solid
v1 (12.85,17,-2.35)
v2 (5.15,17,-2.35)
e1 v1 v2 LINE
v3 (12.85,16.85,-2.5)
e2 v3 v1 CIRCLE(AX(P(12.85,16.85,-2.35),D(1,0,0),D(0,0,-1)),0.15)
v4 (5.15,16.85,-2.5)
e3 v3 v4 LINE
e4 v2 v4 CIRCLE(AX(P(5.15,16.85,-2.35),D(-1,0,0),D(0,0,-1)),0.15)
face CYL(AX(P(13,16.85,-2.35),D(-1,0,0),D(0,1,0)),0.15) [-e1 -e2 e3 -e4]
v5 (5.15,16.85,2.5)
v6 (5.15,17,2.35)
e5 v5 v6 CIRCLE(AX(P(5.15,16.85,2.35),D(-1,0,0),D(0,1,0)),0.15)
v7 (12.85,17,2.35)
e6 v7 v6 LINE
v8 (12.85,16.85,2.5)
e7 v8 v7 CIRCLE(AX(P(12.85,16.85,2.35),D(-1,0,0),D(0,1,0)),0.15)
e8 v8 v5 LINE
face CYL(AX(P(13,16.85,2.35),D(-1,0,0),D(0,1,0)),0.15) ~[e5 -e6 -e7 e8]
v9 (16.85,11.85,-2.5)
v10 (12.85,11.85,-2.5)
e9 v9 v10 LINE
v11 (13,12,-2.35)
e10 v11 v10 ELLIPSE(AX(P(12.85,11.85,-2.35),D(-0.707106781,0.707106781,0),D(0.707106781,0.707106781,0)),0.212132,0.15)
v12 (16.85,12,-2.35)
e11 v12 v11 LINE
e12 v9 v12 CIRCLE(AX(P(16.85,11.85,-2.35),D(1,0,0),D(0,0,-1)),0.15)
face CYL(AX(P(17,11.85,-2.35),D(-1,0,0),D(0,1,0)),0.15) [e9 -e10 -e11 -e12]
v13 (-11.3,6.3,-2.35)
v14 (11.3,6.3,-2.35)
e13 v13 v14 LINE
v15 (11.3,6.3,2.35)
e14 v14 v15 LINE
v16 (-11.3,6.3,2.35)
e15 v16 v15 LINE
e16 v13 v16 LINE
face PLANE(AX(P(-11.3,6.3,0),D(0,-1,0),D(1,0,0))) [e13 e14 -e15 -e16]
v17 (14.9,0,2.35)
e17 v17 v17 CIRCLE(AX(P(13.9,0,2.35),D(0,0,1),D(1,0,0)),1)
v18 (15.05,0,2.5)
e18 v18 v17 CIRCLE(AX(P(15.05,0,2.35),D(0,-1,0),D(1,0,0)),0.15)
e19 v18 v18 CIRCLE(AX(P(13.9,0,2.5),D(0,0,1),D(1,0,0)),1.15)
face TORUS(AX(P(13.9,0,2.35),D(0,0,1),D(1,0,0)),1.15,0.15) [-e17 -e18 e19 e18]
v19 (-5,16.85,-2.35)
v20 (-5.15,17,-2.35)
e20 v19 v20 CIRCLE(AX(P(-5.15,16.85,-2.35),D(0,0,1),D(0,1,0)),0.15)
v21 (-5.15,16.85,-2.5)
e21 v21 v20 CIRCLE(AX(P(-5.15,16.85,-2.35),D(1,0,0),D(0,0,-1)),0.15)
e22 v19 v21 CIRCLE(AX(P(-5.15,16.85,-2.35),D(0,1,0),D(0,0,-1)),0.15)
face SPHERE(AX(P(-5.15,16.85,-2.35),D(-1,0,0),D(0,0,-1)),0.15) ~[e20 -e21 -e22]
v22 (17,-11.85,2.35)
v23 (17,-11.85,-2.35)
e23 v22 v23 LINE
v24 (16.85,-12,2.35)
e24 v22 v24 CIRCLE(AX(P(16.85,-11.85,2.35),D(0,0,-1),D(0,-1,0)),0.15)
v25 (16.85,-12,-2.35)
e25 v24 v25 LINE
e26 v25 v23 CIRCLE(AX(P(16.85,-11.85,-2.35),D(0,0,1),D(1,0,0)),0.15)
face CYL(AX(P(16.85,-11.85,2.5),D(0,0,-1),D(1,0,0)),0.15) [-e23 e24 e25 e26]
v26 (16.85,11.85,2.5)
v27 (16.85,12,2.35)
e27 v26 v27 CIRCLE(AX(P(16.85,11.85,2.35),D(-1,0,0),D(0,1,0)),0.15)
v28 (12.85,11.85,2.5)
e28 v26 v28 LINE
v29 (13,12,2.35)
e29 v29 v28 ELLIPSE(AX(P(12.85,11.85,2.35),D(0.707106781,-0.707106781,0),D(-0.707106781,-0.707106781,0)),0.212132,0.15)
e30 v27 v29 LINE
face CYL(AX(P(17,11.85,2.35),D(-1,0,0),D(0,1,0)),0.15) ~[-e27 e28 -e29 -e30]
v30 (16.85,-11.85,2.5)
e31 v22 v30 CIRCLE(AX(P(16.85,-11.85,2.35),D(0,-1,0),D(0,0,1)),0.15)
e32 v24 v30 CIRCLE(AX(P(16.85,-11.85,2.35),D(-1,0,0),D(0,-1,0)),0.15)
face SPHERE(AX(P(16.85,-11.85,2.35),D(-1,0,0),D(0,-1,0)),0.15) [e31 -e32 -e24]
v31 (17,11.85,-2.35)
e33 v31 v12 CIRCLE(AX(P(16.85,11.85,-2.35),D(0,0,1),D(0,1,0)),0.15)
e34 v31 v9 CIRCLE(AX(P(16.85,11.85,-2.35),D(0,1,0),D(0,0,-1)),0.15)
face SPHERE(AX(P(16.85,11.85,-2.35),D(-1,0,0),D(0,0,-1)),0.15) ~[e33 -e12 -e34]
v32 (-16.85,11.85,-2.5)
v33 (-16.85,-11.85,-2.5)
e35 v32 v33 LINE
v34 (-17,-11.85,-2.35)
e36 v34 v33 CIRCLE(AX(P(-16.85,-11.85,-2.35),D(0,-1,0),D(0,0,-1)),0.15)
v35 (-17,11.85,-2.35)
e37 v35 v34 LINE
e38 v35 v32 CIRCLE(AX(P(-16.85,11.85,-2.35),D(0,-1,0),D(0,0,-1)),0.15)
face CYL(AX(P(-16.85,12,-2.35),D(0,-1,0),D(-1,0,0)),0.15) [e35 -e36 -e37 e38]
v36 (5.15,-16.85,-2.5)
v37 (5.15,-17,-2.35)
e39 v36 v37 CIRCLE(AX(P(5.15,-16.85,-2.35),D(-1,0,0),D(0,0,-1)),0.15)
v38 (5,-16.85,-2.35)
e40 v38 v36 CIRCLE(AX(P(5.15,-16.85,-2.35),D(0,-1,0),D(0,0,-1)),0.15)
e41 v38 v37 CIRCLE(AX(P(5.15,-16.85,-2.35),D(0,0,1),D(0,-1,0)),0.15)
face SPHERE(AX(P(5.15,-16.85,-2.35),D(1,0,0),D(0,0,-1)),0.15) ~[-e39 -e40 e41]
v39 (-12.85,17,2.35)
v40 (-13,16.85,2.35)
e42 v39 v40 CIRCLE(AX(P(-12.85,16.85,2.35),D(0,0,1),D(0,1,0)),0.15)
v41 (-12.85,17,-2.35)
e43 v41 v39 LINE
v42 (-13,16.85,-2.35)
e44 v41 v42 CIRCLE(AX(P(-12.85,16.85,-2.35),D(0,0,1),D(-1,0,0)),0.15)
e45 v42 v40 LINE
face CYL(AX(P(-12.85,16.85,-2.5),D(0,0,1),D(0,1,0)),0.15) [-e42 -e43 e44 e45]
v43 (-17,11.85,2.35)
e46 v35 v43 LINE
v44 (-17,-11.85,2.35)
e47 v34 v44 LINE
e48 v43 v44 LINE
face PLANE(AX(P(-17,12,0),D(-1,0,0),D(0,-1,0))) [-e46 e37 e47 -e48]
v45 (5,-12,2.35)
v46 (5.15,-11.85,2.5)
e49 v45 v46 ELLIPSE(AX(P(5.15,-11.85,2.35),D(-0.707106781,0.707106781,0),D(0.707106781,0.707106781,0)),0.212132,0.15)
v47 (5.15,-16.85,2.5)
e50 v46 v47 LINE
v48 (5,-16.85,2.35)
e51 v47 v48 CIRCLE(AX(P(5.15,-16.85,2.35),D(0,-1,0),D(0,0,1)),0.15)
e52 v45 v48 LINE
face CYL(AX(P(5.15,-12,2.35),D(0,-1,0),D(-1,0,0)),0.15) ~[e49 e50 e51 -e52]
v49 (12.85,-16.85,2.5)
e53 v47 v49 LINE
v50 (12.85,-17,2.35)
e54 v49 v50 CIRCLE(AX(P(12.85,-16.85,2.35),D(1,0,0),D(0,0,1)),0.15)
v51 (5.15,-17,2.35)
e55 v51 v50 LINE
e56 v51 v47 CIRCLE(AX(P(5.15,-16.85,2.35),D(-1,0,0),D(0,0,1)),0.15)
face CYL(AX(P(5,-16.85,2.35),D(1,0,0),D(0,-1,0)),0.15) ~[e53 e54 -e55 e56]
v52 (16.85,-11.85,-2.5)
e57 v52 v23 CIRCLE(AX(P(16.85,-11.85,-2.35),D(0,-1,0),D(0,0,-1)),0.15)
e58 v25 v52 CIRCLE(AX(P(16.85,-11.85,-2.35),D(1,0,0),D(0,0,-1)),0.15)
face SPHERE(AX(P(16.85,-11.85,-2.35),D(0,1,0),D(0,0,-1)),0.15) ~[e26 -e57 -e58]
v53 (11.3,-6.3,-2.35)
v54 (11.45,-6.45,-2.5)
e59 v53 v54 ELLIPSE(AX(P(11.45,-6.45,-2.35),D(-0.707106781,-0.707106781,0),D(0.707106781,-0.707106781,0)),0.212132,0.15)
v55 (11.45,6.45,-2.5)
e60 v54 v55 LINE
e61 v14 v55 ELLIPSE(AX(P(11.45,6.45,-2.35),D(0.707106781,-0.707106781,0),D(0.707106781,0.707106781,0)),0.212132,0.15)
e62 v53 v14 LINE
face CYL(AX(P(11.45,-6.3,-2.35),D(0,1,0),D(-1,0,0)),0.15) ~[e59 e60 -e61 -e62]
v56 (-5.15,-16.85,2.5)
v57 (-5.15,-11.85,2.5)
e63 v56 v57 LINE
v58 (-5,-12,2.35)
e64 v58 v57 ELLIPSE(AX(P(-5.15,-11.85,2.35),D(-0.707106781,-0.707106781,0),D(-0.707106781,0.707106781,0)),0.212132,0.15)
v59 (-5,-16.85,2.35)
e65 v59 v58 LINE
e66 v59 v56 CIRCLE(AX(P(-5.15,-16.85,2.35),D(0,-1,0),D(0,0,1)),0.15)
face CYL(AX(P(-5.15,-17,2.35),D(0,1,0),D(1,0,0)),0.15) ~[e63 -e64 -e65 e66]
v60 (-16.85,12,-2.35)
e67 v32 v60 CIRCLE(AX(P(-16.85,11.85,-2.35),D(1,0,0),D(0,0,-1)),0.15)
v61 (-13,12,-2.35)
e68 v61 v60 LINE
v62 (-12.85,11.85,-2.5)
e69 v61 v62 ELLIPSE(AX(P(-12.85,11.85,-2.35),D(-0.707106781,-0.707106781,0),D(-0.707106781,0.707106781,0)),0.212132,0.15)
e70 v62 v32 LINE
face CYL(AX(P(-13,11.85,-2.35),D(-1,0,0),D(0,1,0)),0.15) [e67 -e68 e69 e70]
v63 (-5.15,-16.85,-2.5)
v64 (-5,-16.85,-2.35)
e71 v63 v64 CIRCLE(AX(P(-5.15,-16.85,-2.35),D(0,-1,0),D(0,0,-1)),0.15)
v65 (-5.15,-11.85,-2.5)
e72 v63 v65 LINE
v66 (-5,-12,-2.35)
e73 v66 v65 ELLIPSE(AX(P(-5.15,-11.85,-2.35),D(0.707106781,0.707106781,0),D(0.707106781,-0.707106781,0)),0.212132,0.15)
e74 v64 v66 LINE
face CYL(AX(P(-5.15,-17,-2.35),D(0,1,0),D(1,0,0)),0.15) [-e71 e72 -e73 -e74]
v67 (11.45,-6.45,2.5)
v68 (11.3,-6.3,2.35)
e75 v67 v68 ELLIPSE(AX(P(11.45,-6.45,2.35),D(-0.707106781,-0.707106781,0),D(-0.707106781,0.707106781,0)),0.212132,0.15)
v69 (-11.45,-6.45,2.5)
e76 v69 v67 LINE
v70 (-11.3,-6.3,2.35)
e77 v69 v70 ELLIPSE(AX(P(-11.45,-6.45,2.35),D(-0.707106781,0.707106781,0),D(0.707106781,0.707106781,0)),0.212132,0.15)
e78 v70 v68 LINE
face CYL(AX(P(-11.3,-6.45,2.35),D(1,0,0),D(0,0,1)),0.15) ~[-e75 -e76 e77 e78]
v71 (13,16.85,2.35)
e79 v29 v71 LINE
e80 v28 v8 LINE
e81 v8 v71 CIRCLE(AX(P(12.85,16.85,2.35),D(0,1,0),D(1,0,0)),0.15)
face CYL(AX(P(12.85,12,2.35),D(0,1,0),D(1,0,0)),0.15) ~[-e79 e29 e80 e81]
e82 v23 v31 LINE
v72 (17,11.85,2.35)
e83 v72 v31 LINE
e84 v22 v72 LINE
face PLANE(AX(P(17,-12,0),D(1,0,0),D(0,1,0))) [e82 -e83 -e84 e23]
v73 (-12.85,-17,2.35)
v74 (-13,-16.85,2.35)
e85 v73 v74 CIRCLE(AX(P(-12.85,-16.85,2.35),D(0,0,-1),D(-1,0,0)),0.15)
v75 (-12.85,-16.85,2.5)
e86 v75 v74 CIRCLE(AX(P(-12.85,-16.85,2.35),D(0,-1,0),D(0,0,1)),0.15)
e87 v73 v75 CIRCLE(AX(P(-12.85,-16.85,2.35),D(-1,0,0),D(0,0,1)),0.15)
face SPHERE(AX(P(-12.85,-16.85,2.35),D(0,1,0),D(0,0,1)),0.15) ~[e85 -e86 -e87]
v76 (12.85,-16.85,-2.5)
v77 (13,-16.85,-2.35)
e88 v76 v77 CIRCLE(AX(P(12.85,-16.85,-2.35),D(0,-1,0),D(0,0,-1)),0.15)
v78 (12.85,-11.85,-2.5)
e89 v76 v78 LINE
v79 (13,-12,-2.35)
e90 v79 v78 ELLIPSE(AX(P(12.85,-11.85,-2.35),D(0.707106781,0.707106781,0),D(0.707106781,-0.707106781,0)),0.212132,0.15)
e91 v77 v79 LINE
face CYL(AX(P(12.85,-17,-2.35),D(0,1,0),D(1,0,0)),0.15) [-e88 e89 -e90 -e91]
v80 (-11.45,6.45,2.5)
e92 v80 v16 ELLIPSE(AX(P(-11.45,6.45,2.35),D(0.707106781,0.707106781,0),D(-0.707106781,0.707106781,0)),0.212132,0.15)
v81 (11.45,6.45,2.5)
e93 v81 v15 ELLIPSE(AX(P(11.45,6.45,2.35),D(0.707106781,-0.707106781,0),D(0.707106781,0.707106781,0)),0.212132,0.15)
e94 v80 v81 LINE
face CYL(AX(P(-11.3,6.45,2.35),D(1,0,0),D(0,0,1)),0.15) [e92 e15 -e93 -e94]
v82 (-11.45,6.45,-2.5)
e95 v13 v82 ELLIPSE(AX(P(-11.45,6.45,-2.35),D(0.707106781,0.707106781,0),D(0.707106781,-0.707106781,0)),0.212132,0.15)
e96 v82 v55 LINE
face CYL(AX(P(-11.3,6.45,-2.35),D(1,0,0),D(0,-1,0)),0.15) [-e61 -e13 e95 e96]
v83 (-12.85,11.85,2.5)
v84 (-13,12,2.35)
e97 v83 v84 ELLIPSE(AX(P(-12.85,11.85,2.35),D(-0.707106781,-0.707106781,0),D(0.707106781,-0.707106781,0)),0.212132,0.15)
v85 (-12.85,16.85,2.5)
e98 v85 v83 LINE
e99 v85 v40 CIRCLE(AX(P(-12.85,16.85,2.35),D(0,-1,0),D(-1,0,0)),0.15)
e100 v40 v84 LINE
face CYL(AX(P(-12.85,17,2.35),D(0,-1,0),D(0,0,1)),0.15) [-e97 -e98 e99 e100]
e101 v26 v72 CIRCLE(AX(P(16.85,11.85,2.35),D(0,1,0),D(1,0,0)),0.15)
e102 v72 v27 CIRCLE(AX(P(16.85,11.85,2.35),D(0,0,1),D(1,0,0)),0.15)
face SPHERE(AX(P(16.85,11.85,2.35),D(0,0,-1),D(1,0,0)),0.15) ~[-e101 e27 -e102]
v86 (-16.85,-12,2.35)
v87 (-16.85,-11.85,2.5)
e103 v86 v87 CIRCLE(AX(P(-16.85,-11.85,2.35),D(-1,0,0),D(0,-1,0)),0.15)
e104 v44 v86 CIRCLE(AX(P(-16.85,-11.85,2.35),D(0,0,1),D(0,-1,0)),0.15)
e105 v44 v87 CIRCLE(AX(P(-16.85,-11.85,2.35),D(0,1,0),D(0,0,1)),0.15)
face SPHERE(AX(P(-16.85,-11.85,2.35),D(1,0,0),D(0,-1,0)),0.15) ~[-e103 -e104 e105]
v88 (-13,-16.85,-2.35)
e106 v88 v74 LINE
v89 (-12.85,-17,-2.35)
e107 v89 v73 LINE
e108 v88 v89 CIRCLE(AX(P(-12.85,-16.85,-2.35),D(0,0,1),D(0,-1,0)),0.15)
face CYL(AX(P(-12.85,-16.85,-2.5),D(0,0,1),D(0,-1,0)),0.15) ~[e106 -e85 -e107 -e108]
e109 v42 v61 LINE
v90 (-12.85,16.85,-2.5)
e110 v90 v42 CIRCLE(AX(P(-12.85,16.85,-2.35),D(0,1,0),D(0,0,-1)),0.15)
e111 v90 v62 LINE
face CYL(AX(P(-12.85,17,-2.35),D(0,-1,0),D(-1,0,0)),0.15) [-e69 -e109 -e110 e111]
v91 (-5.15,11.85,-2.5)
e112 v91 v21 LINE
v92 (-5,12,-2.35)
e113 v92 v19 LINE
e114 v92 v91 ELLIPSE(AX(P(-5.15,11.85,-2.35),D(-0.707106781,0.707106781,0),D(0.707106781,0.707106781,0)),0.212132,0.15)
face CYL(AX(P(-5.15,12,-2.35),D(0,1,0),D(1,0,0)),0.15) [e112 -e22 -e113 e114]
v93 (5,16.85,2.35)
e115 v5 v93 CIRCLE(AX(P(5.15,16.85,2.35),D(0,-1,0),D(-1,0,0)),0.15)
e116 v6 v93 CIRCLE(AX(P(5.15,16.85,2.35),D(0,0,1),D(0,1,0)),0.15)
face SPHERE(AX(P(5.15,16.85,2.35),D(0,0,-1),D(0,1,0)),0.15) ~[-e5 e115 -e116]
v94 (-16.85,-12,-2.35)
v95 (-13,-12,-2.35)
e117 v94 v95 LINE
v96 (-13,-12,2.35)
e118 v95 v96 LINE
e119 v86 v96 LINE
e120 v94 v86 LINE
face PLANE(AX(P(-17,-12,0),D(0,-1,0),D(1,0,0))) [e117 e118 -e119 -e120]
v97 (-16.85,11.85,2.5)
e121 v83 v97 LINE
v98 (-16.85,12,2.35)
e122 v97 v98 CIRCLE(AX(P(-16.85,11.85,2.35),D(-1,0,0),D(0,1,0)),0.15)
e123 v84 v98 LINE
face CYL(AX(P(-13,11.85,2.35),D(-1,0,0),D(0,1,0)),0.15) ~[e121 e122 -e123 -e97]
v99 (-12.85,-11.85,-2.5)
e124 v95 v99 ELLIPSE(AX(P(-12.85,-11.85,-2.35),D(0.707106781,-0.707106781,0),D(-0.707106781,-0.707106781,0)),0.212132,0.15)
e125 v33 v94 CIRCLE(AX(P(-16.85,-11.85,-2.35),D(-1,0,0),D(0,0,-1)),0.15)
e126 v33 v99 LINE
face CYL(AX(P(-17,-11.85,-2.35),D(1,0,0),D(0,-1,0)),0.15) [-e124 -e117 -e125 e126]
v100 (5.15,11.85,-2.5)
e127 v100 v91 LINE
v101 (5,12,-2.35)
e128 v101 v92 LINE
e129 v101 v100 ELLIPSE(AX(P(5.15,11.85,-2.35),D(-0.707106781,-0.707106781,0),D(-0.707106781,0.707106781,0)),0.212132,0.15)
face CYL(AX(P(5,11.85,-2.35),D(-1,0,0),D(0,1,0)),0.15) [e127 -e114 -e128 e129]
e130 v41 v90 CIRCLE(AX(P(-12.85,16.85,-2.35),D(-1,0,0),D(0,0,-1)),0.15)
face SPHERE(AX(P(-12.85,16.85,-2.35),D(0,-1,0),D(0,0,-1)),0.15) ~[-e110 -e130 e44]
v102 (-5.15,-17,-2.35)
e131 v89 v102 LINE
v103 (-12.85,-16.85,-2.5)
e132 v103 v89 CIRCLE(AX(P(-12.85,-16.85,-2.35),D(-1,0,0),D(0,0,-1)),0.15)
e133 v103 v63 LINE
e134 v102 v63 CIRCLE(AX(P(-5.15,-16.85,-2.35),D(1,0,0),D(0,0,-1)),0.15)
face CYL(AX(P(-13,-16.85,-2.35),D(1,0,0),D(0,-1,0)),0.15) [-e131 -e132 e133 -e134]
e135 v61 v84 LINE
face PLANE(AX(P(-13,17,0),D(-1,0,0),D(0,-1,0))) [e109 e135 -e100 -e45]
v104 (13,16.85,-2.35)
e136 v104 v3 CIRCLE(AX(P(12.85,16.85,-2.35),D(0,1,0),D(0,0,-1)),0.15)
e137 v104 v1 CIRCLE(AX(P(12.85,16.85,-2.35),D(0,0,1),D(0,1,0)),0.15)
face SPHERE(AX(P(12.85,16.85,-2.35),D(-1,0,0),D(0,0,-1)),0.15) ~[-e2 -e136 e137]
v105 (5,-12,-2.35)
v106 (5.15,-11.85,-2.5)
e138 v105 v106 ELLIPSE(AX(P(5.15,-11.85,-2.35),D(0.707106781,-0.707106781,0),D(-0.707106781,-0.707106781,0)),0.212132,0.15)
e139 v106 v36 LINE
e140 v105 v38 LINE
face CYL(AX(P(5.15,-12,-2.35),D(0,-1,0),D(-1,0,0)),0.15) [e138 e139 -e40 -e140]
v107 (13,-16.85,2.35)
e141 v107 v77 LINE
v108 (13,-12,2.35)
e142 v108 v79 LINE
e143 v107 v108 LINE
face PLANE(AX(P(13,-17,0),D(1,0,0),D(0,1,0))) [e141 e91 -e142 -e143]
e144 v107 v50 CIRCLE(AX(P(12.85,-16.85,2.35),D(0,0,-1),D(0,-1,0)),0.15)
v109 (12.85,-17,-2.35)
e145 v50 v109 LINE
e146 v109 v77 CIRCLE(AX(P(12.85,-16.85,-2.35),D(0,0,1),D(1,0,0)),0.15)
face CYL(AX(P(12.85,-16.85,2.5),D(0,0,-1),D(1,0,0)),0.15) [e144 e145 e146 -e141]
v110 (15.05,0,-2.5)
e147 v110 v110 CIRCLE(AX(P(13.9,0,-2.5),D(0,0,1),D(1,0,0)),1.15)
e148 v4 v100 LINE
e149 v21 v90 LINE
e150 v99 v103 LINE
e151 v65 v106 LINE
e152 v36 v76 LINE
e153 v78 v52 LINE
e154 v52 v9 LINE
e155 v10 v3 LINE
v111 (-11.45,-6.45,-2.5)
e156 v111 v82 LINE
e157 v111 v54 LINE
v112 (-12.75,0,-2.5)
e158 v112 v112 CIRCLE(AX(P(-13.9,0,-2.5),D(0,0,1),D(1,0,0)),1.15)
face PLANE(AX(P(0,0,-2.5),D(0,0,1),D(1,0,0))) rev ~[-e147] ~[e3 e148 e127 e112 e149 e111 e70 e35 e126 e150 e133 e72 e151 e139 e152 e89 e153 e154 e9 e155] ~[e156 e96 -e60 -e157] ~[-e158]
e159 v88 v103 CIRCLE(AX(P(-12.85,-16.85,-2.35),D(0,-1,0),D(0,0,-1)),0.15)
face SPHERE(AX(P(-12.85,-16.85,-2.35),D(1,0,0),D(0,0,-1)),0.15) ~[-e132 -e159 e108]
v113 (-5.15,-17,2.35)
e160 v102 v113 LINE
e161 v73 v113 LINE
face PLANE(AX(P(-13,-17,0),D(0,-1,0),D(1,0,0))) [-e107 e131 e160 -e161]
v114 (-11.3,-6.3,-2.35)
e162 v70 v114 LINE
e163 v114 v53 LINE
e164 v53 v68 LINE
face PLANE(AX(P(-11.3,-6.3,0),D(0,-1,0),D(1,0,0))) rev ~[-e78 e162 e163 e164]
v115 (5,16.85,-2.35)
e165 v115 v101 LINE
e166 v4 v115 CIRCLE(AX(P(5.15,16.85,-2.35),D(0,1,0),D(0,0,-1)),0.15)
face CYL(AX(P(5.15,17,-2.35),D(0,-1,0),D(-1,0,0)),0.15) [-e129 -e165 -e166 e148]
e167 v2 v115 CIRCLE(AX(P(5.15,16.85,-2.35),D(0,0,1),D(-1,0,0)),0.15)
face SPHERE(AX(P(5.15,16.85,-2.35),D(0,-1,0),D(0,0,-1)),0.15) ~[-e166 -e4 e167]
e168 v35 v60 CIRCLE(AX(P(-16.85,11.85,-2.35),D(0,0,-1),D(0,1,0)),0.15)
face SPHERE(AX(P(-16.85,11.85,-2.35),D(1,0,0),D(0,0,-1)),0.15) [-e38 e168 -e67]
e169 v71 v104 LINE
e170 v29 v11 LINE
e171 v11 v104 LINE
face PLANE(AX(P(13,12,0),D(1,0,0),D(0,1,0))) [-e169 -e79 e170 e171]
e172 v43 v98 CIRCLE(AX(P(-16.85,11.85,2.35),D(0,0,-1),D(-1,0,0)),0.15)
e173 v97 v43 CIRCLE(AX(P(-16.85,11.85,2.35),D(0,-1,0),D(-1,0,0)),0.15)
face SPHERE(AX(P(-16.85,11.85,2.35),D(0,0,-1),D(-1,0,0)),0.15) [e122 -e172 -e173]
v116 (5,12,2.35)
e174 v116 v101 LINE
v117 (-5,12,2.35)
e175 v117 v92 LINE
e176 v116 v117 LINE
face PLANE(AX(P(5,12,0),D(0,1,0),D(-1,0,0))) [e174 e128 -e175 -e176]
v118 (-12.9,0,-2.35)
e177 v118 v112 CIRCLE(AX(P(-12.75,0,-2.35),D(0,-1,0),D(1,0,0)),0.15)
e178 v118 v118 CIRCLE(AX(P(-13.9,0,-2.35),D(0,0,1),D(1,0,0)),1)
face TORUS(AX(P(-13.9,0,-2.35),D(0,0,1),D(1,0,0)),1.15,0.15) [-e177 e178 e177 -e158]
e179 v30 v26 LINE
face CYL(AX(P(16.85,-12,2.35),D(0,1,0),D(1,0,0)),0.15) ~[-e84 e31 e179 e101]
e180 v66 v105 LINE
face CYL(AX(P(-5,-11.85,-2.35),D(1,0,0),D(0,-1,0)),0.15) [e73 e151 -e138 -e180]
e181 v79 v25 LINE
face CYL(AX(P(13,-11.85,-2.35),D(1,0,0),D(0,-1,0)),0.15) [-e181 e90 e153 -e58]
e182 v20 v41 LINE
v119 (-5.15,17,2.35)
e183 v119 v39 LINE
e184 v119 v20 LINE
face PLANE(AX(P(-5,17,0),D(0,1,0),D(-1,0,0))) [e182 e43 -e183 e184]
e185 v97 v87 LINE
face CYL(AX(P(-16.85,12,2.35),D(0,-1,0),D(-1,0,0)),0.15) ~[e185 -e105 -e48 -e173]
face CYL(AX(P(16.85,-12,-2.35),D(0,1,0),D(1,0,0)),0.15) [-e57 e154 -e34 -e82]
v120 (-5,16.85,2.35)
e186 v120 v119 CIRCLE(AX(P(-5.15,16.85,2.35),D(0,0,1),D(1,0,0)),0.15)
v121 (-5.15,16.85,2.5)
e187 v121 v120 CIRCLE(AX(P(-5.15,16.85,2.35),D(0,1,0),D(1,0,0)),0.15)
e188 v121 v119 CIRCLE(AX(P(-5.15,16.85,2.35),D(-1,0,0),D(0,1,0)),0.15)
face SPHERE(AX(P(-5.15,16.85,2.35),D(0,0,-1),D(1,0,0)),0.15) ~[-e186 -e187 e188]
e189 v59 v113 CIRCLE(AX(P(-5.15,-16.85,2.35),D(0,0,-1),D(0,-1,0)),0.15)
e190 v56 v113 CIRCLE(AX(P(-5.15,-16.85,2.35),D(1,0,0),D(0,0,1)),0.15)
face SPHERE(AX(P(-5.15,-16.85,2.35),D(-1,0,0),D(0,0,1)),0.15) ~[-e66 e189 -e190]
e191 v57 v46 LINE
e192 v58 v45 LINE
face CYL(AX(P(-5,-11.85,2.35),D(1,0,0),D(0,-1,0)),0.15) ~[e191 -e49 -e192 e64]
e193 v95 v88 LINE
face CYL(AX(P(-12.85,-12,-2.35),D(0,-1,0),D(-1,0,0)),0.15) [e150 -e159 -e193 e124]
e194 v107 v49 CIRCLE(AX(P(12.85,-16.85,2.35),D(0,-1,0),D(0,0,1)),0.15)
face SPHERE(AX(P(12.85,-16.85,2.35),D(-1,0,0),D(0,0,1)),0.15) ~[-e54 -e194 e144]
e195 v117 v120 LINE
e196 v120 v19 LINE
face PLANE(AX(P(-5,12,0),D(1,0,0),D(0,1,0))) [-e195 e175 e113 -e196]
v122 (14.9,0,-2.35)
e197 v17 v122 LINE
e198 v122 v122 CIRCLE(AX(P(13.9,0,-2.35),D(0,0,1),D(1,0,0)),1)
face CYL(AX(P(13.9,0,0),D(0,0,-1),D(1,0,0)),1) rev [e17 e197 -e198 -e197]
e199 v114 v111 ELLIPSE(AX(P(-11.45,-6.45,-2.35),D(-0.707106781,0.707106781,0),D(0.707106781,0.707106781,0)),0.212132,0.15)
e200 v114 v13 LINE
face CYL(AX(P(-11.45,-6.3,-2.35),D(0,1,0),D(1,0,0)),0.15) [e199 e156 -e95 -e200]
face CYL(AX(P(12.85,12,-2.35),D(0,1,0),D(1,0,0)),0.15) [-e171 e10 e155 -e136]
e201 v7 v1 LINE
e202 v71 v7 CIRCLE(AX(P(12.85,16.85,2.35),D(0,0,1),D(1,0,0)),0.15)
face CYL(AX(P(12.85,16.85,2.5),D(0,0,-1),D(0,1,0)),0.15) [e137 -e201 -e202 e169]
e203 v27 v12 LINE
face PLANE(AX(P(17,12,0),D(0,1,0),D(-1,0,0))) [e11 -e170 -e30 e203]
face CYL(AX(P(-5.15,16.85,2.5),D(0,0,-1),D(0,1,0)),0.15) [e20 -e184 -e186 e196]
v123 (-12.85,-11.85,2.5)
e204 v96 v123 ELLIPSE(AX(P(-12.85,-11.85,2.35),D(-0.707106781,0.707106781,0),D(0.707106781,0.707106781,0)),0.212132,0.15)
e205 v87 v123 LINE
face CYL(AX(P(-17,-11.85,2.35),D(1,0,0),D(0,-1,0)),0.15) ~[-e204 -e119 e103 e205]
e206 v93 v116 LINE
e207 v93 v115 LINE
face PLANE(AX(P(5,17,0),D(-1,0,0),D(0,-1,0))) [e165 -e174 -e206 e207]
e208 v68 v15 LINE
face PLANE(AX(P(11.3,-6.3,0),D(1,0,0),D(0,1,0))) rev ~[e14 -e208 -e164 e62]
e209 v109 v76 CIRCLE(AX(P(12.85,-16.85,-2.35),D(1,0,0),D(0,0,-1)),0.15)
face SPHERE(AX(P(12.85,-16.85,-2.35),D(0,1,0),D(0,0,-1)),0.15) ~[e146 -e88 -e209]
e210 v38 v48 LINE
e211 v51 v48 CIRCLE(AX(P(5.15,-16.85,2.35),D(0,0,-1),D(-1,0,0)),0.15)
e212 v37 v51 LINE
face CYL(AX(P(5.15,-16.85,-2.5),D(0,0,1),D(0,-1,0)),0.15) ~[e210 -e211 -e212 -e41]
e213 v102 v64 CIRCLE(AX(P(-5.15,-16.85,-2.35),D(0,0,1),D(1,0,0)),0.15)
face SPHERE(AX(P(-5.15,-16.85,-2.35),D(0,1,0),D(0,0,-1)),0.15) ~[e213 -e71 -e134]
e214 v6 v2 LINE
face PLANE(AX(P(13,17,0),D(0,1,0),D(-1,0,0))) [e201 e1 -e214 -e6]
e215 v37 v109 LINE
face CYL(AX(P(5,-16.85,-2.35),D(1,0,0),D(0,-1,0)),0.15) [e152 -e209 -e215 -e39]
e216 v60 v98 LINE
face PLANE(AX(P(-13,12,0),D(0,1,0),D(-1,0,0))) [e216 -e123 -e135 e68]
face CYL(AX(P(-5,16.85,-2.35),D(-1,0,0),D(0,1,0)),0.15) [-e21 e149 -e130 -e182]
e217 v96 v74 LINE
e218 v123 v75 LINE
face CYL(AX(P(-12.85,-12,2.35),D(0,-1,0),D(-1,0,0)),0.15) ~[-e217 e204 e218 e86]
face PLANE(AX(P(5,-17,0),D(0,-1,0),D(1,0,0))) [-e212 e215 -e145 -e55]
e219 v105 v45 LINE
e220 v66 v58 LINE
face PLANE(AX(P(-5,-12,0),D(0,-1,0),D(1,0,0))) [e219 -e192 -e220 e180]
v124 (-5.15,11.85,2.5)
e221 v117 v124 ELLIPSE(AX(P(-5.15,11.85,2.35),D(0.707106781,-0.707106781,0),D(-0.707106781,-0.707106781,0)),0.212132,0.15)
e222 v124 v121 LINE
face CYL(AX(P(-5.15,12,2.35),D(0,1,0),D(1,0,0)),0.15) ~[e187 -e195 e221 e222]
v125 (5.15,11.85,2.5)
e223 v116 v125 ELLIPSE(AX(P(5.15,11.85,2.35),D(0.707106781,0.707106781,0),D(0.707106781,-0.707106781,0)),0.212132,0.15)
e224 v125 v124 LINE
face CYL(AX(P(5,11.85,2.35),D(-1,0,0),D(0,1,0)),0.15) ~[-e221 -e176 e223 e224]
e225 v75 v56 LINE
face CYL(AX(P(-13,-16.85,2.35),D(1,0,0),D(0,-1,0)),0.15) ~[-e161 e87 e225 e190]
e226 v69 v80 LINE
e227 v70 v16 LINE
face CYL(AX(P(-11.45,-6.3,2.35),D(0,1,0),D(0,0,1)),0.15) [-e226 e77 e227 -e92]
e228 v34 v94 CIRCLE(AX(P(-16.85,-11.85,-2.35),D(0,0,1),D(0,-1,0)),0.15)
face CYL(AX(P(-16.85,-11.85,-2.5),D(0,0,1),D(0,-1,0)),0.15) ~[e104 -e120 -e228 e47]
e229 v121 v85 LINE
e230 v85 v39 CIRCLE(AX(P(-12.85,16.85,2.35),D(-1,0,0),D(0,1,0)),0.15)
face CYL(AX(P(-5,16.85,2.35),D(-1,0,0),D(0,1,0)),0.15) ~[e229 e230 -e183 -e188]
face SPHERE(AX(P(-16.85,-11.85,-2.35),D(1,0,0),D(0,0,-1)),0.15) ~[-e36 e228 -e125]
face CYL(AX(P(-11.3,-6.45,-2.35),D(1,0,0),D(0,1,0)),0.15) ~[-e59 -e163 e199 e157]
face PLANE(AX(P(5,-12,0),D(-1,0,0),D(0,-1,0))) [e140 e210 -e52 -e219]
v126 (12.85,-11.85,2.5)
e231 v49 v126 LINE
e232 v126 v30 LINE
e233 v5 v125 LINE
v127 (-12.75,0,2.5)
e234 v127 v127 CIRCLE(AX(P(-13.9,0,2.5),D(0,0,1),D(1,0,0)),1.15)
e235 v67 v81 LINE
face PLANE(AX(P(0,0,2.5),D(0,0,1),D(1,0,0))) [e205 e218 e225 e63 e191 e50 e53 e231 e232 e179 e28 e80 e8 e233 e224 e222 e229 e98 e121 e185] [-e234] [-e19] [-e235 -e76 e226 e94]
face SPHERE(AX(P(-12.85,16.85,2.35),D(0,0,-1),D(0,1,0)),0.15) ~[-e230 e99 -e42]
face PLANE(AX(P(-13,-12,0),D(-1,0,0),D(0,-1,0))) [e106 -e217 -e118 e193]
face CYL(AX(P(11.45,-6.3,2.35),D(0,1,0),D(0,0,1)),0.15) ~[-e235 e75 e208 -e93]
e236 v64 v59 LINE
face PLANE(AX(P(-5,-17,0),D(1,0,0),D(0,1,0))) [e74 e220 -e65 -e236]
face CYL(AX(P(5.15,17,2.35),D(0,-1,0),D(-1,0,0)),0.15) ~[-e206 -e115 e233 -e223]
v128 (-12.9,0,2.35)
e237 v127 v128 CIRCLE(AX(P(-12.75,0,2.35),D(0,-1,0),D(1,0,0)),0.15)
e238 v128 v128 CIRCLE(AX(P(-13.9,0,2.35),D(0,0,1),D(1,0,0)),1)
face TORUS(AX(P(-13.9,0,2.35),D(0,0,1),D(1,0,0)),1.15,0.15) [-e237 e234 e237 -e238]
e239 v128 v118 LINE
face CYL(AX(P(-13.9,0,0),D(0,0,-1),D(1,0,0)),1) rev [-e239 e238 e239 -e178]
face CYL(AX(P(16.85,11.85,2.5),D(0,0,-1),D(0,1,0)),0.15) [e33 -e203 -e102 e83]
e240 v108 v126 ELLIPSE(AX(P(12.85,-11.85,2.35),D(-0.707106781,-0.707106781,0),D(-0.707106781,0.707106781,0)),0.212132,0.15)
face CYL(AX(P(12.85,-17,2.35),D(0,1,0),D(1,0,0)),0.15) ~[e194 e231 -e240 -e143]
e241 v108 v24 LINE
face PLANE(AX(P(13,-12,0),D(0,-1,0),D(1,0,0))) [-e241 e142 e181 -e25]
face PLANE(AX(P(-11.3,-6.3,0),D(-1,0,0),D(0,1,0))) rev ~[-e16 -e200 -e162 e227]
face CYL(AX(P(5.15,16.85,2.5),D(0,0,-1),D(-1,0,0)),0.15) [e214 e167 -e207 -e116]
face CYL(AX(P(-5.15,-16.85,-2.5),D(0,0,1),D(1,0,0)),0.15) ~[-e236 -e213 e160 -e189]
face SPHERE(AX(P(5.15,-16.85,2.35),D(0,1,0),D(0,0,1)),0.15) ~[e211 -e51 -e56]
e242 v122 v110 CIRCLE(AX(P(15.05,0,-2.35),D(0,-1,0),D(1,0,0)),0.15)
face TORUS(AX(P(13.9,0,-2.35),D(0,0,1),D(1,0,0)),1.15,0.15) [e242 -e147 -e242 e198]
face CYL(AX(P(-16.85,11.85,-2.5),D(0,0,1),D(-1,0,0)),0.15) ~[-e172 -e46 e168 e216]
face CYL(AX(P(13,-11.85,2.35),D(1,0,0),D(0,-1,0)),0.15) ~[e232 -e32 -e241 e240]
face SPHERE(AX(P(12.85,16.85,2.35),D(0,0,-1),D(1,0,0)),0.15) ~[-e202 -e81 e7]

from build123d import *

# Parameters (mm, degrees)
SKETCH1_R           = 1
SKETCH1_W           = 22.6
SKETCH1_H           = 12.6
BOSS_EXTRUDE1_DEPTH = 2.5
FILLET1_R           = 0.15


with BuildPart() as part:
    # Sketch1 → Boss-Extrude1 (new, symmetric)
    with BuildSketch(Plane.XY):
        Polygon((-5, 17), (-13, 17), (-13, 12), (-17, 12), (-17, -12), (-13, -12), (-13, -17), (-5, -17), (-5, -12), (5, -12), (5, -17), (13, -17), (13, -12), (17, -12), (17, 12), (13, 12), (13, 17), (5, 17), (5, 12), (-5, 12), align=None)
        with Locations((13.9, 0)):
            Circle(SKETCH1_R, mode=Mode.SUBTRACT)
        with Locations((-13.9, 0)):
            Circle(SKETCH1_R, mode=Mode.SUBTRACT)
        Rectangle(SKETCH1_W, SKETCH1_H, mode=Mode.SUBTRACT)
    extrude(amount=BOSS_EXTRUDE1_DEPTH, both=True)

    # Fillet1
    fillet1_edges = [part.edges().sort_by_distance(p)[0] for p in [
        (11.3, 0, 2.5),
        (0, -6.3, 2.5),
        (-11.3, 0, 2.5),
        (0, 6.3, 2.5),
        (-14.9, 0, 2.5),
        (12.9, 0, 2.5),
        (-15, -12, 2.5),
        (-13, -14.5, 2.5),
        (-9, -17, 2.5),
        (12.9, 0, -2.5),
        (-5, -14.5, 2.5),
        (-14.9, 0, -2.5),
        (0, 6.3, -2.5),
        (-11.3, 0, -2.5),
        (0, -6.3, -2.5),
        (11.3, 0, -2.5),
        (-15, 12, -2.5),
        (-13, 14.5, -2.5),
        (-9, 17, -2.5),
        (0, -12, 2.5),
        (-5, 14.5, -2.5),
        (0, 12, -2.5),
        (5, 14.5, -2.5),
        (9, 17, -2.5),
        (13, 14.5, -2.5),
        (15, 12, -2.5),
        (17, 0, -2.5),
        (15, -12, -2.5),
        (13, -14.5, -2.5),
        (9, -17, -2.5),
        (5, -14.5, 2.5),
        (5, -14.5, -2.5),
        (0, -12, -2.5),
        (-5, -14.5, -2.5),
        (-9, -17, -2.5),
        (-13, -14.5, -2.5),
        (-15, -12, -2.5),
        (-17, 0, -2.5),
        (9, -17, 2.5),
        (13, -14.5, 2.5),
        (-17, 12, 0),
        (-13, 17, 0),
        (-5, 17, 0),
        (5, 17, 0),
        (13, 17, 0),
        (15, -12, 2.5),
        (17, 12, 0),
        (17, -12, 0),
        (13, -17, 0),
        (5, -17, 0),
        (-5, -17, 0),
        (-13, -17, 0),
        (-17, -12, 0),
        (17, 0, 2.5),
        (15, 12, 2.5),
        (13, 14.5, 2.5),
        (9, 17, 2.5),
        (5, 14.5, 2.5),
        (0, 12, 2.5),
        (-17, 0, 2.5),
        (-5, 14.5, 2.5),
        (-9, 17, 2.5),
        (-13, 14.5, 2.5),
        (-15, 12, 2.5),
    ]]
    fillet(fillet1_edges, radius=FILLET1_R)


solid = part.part
